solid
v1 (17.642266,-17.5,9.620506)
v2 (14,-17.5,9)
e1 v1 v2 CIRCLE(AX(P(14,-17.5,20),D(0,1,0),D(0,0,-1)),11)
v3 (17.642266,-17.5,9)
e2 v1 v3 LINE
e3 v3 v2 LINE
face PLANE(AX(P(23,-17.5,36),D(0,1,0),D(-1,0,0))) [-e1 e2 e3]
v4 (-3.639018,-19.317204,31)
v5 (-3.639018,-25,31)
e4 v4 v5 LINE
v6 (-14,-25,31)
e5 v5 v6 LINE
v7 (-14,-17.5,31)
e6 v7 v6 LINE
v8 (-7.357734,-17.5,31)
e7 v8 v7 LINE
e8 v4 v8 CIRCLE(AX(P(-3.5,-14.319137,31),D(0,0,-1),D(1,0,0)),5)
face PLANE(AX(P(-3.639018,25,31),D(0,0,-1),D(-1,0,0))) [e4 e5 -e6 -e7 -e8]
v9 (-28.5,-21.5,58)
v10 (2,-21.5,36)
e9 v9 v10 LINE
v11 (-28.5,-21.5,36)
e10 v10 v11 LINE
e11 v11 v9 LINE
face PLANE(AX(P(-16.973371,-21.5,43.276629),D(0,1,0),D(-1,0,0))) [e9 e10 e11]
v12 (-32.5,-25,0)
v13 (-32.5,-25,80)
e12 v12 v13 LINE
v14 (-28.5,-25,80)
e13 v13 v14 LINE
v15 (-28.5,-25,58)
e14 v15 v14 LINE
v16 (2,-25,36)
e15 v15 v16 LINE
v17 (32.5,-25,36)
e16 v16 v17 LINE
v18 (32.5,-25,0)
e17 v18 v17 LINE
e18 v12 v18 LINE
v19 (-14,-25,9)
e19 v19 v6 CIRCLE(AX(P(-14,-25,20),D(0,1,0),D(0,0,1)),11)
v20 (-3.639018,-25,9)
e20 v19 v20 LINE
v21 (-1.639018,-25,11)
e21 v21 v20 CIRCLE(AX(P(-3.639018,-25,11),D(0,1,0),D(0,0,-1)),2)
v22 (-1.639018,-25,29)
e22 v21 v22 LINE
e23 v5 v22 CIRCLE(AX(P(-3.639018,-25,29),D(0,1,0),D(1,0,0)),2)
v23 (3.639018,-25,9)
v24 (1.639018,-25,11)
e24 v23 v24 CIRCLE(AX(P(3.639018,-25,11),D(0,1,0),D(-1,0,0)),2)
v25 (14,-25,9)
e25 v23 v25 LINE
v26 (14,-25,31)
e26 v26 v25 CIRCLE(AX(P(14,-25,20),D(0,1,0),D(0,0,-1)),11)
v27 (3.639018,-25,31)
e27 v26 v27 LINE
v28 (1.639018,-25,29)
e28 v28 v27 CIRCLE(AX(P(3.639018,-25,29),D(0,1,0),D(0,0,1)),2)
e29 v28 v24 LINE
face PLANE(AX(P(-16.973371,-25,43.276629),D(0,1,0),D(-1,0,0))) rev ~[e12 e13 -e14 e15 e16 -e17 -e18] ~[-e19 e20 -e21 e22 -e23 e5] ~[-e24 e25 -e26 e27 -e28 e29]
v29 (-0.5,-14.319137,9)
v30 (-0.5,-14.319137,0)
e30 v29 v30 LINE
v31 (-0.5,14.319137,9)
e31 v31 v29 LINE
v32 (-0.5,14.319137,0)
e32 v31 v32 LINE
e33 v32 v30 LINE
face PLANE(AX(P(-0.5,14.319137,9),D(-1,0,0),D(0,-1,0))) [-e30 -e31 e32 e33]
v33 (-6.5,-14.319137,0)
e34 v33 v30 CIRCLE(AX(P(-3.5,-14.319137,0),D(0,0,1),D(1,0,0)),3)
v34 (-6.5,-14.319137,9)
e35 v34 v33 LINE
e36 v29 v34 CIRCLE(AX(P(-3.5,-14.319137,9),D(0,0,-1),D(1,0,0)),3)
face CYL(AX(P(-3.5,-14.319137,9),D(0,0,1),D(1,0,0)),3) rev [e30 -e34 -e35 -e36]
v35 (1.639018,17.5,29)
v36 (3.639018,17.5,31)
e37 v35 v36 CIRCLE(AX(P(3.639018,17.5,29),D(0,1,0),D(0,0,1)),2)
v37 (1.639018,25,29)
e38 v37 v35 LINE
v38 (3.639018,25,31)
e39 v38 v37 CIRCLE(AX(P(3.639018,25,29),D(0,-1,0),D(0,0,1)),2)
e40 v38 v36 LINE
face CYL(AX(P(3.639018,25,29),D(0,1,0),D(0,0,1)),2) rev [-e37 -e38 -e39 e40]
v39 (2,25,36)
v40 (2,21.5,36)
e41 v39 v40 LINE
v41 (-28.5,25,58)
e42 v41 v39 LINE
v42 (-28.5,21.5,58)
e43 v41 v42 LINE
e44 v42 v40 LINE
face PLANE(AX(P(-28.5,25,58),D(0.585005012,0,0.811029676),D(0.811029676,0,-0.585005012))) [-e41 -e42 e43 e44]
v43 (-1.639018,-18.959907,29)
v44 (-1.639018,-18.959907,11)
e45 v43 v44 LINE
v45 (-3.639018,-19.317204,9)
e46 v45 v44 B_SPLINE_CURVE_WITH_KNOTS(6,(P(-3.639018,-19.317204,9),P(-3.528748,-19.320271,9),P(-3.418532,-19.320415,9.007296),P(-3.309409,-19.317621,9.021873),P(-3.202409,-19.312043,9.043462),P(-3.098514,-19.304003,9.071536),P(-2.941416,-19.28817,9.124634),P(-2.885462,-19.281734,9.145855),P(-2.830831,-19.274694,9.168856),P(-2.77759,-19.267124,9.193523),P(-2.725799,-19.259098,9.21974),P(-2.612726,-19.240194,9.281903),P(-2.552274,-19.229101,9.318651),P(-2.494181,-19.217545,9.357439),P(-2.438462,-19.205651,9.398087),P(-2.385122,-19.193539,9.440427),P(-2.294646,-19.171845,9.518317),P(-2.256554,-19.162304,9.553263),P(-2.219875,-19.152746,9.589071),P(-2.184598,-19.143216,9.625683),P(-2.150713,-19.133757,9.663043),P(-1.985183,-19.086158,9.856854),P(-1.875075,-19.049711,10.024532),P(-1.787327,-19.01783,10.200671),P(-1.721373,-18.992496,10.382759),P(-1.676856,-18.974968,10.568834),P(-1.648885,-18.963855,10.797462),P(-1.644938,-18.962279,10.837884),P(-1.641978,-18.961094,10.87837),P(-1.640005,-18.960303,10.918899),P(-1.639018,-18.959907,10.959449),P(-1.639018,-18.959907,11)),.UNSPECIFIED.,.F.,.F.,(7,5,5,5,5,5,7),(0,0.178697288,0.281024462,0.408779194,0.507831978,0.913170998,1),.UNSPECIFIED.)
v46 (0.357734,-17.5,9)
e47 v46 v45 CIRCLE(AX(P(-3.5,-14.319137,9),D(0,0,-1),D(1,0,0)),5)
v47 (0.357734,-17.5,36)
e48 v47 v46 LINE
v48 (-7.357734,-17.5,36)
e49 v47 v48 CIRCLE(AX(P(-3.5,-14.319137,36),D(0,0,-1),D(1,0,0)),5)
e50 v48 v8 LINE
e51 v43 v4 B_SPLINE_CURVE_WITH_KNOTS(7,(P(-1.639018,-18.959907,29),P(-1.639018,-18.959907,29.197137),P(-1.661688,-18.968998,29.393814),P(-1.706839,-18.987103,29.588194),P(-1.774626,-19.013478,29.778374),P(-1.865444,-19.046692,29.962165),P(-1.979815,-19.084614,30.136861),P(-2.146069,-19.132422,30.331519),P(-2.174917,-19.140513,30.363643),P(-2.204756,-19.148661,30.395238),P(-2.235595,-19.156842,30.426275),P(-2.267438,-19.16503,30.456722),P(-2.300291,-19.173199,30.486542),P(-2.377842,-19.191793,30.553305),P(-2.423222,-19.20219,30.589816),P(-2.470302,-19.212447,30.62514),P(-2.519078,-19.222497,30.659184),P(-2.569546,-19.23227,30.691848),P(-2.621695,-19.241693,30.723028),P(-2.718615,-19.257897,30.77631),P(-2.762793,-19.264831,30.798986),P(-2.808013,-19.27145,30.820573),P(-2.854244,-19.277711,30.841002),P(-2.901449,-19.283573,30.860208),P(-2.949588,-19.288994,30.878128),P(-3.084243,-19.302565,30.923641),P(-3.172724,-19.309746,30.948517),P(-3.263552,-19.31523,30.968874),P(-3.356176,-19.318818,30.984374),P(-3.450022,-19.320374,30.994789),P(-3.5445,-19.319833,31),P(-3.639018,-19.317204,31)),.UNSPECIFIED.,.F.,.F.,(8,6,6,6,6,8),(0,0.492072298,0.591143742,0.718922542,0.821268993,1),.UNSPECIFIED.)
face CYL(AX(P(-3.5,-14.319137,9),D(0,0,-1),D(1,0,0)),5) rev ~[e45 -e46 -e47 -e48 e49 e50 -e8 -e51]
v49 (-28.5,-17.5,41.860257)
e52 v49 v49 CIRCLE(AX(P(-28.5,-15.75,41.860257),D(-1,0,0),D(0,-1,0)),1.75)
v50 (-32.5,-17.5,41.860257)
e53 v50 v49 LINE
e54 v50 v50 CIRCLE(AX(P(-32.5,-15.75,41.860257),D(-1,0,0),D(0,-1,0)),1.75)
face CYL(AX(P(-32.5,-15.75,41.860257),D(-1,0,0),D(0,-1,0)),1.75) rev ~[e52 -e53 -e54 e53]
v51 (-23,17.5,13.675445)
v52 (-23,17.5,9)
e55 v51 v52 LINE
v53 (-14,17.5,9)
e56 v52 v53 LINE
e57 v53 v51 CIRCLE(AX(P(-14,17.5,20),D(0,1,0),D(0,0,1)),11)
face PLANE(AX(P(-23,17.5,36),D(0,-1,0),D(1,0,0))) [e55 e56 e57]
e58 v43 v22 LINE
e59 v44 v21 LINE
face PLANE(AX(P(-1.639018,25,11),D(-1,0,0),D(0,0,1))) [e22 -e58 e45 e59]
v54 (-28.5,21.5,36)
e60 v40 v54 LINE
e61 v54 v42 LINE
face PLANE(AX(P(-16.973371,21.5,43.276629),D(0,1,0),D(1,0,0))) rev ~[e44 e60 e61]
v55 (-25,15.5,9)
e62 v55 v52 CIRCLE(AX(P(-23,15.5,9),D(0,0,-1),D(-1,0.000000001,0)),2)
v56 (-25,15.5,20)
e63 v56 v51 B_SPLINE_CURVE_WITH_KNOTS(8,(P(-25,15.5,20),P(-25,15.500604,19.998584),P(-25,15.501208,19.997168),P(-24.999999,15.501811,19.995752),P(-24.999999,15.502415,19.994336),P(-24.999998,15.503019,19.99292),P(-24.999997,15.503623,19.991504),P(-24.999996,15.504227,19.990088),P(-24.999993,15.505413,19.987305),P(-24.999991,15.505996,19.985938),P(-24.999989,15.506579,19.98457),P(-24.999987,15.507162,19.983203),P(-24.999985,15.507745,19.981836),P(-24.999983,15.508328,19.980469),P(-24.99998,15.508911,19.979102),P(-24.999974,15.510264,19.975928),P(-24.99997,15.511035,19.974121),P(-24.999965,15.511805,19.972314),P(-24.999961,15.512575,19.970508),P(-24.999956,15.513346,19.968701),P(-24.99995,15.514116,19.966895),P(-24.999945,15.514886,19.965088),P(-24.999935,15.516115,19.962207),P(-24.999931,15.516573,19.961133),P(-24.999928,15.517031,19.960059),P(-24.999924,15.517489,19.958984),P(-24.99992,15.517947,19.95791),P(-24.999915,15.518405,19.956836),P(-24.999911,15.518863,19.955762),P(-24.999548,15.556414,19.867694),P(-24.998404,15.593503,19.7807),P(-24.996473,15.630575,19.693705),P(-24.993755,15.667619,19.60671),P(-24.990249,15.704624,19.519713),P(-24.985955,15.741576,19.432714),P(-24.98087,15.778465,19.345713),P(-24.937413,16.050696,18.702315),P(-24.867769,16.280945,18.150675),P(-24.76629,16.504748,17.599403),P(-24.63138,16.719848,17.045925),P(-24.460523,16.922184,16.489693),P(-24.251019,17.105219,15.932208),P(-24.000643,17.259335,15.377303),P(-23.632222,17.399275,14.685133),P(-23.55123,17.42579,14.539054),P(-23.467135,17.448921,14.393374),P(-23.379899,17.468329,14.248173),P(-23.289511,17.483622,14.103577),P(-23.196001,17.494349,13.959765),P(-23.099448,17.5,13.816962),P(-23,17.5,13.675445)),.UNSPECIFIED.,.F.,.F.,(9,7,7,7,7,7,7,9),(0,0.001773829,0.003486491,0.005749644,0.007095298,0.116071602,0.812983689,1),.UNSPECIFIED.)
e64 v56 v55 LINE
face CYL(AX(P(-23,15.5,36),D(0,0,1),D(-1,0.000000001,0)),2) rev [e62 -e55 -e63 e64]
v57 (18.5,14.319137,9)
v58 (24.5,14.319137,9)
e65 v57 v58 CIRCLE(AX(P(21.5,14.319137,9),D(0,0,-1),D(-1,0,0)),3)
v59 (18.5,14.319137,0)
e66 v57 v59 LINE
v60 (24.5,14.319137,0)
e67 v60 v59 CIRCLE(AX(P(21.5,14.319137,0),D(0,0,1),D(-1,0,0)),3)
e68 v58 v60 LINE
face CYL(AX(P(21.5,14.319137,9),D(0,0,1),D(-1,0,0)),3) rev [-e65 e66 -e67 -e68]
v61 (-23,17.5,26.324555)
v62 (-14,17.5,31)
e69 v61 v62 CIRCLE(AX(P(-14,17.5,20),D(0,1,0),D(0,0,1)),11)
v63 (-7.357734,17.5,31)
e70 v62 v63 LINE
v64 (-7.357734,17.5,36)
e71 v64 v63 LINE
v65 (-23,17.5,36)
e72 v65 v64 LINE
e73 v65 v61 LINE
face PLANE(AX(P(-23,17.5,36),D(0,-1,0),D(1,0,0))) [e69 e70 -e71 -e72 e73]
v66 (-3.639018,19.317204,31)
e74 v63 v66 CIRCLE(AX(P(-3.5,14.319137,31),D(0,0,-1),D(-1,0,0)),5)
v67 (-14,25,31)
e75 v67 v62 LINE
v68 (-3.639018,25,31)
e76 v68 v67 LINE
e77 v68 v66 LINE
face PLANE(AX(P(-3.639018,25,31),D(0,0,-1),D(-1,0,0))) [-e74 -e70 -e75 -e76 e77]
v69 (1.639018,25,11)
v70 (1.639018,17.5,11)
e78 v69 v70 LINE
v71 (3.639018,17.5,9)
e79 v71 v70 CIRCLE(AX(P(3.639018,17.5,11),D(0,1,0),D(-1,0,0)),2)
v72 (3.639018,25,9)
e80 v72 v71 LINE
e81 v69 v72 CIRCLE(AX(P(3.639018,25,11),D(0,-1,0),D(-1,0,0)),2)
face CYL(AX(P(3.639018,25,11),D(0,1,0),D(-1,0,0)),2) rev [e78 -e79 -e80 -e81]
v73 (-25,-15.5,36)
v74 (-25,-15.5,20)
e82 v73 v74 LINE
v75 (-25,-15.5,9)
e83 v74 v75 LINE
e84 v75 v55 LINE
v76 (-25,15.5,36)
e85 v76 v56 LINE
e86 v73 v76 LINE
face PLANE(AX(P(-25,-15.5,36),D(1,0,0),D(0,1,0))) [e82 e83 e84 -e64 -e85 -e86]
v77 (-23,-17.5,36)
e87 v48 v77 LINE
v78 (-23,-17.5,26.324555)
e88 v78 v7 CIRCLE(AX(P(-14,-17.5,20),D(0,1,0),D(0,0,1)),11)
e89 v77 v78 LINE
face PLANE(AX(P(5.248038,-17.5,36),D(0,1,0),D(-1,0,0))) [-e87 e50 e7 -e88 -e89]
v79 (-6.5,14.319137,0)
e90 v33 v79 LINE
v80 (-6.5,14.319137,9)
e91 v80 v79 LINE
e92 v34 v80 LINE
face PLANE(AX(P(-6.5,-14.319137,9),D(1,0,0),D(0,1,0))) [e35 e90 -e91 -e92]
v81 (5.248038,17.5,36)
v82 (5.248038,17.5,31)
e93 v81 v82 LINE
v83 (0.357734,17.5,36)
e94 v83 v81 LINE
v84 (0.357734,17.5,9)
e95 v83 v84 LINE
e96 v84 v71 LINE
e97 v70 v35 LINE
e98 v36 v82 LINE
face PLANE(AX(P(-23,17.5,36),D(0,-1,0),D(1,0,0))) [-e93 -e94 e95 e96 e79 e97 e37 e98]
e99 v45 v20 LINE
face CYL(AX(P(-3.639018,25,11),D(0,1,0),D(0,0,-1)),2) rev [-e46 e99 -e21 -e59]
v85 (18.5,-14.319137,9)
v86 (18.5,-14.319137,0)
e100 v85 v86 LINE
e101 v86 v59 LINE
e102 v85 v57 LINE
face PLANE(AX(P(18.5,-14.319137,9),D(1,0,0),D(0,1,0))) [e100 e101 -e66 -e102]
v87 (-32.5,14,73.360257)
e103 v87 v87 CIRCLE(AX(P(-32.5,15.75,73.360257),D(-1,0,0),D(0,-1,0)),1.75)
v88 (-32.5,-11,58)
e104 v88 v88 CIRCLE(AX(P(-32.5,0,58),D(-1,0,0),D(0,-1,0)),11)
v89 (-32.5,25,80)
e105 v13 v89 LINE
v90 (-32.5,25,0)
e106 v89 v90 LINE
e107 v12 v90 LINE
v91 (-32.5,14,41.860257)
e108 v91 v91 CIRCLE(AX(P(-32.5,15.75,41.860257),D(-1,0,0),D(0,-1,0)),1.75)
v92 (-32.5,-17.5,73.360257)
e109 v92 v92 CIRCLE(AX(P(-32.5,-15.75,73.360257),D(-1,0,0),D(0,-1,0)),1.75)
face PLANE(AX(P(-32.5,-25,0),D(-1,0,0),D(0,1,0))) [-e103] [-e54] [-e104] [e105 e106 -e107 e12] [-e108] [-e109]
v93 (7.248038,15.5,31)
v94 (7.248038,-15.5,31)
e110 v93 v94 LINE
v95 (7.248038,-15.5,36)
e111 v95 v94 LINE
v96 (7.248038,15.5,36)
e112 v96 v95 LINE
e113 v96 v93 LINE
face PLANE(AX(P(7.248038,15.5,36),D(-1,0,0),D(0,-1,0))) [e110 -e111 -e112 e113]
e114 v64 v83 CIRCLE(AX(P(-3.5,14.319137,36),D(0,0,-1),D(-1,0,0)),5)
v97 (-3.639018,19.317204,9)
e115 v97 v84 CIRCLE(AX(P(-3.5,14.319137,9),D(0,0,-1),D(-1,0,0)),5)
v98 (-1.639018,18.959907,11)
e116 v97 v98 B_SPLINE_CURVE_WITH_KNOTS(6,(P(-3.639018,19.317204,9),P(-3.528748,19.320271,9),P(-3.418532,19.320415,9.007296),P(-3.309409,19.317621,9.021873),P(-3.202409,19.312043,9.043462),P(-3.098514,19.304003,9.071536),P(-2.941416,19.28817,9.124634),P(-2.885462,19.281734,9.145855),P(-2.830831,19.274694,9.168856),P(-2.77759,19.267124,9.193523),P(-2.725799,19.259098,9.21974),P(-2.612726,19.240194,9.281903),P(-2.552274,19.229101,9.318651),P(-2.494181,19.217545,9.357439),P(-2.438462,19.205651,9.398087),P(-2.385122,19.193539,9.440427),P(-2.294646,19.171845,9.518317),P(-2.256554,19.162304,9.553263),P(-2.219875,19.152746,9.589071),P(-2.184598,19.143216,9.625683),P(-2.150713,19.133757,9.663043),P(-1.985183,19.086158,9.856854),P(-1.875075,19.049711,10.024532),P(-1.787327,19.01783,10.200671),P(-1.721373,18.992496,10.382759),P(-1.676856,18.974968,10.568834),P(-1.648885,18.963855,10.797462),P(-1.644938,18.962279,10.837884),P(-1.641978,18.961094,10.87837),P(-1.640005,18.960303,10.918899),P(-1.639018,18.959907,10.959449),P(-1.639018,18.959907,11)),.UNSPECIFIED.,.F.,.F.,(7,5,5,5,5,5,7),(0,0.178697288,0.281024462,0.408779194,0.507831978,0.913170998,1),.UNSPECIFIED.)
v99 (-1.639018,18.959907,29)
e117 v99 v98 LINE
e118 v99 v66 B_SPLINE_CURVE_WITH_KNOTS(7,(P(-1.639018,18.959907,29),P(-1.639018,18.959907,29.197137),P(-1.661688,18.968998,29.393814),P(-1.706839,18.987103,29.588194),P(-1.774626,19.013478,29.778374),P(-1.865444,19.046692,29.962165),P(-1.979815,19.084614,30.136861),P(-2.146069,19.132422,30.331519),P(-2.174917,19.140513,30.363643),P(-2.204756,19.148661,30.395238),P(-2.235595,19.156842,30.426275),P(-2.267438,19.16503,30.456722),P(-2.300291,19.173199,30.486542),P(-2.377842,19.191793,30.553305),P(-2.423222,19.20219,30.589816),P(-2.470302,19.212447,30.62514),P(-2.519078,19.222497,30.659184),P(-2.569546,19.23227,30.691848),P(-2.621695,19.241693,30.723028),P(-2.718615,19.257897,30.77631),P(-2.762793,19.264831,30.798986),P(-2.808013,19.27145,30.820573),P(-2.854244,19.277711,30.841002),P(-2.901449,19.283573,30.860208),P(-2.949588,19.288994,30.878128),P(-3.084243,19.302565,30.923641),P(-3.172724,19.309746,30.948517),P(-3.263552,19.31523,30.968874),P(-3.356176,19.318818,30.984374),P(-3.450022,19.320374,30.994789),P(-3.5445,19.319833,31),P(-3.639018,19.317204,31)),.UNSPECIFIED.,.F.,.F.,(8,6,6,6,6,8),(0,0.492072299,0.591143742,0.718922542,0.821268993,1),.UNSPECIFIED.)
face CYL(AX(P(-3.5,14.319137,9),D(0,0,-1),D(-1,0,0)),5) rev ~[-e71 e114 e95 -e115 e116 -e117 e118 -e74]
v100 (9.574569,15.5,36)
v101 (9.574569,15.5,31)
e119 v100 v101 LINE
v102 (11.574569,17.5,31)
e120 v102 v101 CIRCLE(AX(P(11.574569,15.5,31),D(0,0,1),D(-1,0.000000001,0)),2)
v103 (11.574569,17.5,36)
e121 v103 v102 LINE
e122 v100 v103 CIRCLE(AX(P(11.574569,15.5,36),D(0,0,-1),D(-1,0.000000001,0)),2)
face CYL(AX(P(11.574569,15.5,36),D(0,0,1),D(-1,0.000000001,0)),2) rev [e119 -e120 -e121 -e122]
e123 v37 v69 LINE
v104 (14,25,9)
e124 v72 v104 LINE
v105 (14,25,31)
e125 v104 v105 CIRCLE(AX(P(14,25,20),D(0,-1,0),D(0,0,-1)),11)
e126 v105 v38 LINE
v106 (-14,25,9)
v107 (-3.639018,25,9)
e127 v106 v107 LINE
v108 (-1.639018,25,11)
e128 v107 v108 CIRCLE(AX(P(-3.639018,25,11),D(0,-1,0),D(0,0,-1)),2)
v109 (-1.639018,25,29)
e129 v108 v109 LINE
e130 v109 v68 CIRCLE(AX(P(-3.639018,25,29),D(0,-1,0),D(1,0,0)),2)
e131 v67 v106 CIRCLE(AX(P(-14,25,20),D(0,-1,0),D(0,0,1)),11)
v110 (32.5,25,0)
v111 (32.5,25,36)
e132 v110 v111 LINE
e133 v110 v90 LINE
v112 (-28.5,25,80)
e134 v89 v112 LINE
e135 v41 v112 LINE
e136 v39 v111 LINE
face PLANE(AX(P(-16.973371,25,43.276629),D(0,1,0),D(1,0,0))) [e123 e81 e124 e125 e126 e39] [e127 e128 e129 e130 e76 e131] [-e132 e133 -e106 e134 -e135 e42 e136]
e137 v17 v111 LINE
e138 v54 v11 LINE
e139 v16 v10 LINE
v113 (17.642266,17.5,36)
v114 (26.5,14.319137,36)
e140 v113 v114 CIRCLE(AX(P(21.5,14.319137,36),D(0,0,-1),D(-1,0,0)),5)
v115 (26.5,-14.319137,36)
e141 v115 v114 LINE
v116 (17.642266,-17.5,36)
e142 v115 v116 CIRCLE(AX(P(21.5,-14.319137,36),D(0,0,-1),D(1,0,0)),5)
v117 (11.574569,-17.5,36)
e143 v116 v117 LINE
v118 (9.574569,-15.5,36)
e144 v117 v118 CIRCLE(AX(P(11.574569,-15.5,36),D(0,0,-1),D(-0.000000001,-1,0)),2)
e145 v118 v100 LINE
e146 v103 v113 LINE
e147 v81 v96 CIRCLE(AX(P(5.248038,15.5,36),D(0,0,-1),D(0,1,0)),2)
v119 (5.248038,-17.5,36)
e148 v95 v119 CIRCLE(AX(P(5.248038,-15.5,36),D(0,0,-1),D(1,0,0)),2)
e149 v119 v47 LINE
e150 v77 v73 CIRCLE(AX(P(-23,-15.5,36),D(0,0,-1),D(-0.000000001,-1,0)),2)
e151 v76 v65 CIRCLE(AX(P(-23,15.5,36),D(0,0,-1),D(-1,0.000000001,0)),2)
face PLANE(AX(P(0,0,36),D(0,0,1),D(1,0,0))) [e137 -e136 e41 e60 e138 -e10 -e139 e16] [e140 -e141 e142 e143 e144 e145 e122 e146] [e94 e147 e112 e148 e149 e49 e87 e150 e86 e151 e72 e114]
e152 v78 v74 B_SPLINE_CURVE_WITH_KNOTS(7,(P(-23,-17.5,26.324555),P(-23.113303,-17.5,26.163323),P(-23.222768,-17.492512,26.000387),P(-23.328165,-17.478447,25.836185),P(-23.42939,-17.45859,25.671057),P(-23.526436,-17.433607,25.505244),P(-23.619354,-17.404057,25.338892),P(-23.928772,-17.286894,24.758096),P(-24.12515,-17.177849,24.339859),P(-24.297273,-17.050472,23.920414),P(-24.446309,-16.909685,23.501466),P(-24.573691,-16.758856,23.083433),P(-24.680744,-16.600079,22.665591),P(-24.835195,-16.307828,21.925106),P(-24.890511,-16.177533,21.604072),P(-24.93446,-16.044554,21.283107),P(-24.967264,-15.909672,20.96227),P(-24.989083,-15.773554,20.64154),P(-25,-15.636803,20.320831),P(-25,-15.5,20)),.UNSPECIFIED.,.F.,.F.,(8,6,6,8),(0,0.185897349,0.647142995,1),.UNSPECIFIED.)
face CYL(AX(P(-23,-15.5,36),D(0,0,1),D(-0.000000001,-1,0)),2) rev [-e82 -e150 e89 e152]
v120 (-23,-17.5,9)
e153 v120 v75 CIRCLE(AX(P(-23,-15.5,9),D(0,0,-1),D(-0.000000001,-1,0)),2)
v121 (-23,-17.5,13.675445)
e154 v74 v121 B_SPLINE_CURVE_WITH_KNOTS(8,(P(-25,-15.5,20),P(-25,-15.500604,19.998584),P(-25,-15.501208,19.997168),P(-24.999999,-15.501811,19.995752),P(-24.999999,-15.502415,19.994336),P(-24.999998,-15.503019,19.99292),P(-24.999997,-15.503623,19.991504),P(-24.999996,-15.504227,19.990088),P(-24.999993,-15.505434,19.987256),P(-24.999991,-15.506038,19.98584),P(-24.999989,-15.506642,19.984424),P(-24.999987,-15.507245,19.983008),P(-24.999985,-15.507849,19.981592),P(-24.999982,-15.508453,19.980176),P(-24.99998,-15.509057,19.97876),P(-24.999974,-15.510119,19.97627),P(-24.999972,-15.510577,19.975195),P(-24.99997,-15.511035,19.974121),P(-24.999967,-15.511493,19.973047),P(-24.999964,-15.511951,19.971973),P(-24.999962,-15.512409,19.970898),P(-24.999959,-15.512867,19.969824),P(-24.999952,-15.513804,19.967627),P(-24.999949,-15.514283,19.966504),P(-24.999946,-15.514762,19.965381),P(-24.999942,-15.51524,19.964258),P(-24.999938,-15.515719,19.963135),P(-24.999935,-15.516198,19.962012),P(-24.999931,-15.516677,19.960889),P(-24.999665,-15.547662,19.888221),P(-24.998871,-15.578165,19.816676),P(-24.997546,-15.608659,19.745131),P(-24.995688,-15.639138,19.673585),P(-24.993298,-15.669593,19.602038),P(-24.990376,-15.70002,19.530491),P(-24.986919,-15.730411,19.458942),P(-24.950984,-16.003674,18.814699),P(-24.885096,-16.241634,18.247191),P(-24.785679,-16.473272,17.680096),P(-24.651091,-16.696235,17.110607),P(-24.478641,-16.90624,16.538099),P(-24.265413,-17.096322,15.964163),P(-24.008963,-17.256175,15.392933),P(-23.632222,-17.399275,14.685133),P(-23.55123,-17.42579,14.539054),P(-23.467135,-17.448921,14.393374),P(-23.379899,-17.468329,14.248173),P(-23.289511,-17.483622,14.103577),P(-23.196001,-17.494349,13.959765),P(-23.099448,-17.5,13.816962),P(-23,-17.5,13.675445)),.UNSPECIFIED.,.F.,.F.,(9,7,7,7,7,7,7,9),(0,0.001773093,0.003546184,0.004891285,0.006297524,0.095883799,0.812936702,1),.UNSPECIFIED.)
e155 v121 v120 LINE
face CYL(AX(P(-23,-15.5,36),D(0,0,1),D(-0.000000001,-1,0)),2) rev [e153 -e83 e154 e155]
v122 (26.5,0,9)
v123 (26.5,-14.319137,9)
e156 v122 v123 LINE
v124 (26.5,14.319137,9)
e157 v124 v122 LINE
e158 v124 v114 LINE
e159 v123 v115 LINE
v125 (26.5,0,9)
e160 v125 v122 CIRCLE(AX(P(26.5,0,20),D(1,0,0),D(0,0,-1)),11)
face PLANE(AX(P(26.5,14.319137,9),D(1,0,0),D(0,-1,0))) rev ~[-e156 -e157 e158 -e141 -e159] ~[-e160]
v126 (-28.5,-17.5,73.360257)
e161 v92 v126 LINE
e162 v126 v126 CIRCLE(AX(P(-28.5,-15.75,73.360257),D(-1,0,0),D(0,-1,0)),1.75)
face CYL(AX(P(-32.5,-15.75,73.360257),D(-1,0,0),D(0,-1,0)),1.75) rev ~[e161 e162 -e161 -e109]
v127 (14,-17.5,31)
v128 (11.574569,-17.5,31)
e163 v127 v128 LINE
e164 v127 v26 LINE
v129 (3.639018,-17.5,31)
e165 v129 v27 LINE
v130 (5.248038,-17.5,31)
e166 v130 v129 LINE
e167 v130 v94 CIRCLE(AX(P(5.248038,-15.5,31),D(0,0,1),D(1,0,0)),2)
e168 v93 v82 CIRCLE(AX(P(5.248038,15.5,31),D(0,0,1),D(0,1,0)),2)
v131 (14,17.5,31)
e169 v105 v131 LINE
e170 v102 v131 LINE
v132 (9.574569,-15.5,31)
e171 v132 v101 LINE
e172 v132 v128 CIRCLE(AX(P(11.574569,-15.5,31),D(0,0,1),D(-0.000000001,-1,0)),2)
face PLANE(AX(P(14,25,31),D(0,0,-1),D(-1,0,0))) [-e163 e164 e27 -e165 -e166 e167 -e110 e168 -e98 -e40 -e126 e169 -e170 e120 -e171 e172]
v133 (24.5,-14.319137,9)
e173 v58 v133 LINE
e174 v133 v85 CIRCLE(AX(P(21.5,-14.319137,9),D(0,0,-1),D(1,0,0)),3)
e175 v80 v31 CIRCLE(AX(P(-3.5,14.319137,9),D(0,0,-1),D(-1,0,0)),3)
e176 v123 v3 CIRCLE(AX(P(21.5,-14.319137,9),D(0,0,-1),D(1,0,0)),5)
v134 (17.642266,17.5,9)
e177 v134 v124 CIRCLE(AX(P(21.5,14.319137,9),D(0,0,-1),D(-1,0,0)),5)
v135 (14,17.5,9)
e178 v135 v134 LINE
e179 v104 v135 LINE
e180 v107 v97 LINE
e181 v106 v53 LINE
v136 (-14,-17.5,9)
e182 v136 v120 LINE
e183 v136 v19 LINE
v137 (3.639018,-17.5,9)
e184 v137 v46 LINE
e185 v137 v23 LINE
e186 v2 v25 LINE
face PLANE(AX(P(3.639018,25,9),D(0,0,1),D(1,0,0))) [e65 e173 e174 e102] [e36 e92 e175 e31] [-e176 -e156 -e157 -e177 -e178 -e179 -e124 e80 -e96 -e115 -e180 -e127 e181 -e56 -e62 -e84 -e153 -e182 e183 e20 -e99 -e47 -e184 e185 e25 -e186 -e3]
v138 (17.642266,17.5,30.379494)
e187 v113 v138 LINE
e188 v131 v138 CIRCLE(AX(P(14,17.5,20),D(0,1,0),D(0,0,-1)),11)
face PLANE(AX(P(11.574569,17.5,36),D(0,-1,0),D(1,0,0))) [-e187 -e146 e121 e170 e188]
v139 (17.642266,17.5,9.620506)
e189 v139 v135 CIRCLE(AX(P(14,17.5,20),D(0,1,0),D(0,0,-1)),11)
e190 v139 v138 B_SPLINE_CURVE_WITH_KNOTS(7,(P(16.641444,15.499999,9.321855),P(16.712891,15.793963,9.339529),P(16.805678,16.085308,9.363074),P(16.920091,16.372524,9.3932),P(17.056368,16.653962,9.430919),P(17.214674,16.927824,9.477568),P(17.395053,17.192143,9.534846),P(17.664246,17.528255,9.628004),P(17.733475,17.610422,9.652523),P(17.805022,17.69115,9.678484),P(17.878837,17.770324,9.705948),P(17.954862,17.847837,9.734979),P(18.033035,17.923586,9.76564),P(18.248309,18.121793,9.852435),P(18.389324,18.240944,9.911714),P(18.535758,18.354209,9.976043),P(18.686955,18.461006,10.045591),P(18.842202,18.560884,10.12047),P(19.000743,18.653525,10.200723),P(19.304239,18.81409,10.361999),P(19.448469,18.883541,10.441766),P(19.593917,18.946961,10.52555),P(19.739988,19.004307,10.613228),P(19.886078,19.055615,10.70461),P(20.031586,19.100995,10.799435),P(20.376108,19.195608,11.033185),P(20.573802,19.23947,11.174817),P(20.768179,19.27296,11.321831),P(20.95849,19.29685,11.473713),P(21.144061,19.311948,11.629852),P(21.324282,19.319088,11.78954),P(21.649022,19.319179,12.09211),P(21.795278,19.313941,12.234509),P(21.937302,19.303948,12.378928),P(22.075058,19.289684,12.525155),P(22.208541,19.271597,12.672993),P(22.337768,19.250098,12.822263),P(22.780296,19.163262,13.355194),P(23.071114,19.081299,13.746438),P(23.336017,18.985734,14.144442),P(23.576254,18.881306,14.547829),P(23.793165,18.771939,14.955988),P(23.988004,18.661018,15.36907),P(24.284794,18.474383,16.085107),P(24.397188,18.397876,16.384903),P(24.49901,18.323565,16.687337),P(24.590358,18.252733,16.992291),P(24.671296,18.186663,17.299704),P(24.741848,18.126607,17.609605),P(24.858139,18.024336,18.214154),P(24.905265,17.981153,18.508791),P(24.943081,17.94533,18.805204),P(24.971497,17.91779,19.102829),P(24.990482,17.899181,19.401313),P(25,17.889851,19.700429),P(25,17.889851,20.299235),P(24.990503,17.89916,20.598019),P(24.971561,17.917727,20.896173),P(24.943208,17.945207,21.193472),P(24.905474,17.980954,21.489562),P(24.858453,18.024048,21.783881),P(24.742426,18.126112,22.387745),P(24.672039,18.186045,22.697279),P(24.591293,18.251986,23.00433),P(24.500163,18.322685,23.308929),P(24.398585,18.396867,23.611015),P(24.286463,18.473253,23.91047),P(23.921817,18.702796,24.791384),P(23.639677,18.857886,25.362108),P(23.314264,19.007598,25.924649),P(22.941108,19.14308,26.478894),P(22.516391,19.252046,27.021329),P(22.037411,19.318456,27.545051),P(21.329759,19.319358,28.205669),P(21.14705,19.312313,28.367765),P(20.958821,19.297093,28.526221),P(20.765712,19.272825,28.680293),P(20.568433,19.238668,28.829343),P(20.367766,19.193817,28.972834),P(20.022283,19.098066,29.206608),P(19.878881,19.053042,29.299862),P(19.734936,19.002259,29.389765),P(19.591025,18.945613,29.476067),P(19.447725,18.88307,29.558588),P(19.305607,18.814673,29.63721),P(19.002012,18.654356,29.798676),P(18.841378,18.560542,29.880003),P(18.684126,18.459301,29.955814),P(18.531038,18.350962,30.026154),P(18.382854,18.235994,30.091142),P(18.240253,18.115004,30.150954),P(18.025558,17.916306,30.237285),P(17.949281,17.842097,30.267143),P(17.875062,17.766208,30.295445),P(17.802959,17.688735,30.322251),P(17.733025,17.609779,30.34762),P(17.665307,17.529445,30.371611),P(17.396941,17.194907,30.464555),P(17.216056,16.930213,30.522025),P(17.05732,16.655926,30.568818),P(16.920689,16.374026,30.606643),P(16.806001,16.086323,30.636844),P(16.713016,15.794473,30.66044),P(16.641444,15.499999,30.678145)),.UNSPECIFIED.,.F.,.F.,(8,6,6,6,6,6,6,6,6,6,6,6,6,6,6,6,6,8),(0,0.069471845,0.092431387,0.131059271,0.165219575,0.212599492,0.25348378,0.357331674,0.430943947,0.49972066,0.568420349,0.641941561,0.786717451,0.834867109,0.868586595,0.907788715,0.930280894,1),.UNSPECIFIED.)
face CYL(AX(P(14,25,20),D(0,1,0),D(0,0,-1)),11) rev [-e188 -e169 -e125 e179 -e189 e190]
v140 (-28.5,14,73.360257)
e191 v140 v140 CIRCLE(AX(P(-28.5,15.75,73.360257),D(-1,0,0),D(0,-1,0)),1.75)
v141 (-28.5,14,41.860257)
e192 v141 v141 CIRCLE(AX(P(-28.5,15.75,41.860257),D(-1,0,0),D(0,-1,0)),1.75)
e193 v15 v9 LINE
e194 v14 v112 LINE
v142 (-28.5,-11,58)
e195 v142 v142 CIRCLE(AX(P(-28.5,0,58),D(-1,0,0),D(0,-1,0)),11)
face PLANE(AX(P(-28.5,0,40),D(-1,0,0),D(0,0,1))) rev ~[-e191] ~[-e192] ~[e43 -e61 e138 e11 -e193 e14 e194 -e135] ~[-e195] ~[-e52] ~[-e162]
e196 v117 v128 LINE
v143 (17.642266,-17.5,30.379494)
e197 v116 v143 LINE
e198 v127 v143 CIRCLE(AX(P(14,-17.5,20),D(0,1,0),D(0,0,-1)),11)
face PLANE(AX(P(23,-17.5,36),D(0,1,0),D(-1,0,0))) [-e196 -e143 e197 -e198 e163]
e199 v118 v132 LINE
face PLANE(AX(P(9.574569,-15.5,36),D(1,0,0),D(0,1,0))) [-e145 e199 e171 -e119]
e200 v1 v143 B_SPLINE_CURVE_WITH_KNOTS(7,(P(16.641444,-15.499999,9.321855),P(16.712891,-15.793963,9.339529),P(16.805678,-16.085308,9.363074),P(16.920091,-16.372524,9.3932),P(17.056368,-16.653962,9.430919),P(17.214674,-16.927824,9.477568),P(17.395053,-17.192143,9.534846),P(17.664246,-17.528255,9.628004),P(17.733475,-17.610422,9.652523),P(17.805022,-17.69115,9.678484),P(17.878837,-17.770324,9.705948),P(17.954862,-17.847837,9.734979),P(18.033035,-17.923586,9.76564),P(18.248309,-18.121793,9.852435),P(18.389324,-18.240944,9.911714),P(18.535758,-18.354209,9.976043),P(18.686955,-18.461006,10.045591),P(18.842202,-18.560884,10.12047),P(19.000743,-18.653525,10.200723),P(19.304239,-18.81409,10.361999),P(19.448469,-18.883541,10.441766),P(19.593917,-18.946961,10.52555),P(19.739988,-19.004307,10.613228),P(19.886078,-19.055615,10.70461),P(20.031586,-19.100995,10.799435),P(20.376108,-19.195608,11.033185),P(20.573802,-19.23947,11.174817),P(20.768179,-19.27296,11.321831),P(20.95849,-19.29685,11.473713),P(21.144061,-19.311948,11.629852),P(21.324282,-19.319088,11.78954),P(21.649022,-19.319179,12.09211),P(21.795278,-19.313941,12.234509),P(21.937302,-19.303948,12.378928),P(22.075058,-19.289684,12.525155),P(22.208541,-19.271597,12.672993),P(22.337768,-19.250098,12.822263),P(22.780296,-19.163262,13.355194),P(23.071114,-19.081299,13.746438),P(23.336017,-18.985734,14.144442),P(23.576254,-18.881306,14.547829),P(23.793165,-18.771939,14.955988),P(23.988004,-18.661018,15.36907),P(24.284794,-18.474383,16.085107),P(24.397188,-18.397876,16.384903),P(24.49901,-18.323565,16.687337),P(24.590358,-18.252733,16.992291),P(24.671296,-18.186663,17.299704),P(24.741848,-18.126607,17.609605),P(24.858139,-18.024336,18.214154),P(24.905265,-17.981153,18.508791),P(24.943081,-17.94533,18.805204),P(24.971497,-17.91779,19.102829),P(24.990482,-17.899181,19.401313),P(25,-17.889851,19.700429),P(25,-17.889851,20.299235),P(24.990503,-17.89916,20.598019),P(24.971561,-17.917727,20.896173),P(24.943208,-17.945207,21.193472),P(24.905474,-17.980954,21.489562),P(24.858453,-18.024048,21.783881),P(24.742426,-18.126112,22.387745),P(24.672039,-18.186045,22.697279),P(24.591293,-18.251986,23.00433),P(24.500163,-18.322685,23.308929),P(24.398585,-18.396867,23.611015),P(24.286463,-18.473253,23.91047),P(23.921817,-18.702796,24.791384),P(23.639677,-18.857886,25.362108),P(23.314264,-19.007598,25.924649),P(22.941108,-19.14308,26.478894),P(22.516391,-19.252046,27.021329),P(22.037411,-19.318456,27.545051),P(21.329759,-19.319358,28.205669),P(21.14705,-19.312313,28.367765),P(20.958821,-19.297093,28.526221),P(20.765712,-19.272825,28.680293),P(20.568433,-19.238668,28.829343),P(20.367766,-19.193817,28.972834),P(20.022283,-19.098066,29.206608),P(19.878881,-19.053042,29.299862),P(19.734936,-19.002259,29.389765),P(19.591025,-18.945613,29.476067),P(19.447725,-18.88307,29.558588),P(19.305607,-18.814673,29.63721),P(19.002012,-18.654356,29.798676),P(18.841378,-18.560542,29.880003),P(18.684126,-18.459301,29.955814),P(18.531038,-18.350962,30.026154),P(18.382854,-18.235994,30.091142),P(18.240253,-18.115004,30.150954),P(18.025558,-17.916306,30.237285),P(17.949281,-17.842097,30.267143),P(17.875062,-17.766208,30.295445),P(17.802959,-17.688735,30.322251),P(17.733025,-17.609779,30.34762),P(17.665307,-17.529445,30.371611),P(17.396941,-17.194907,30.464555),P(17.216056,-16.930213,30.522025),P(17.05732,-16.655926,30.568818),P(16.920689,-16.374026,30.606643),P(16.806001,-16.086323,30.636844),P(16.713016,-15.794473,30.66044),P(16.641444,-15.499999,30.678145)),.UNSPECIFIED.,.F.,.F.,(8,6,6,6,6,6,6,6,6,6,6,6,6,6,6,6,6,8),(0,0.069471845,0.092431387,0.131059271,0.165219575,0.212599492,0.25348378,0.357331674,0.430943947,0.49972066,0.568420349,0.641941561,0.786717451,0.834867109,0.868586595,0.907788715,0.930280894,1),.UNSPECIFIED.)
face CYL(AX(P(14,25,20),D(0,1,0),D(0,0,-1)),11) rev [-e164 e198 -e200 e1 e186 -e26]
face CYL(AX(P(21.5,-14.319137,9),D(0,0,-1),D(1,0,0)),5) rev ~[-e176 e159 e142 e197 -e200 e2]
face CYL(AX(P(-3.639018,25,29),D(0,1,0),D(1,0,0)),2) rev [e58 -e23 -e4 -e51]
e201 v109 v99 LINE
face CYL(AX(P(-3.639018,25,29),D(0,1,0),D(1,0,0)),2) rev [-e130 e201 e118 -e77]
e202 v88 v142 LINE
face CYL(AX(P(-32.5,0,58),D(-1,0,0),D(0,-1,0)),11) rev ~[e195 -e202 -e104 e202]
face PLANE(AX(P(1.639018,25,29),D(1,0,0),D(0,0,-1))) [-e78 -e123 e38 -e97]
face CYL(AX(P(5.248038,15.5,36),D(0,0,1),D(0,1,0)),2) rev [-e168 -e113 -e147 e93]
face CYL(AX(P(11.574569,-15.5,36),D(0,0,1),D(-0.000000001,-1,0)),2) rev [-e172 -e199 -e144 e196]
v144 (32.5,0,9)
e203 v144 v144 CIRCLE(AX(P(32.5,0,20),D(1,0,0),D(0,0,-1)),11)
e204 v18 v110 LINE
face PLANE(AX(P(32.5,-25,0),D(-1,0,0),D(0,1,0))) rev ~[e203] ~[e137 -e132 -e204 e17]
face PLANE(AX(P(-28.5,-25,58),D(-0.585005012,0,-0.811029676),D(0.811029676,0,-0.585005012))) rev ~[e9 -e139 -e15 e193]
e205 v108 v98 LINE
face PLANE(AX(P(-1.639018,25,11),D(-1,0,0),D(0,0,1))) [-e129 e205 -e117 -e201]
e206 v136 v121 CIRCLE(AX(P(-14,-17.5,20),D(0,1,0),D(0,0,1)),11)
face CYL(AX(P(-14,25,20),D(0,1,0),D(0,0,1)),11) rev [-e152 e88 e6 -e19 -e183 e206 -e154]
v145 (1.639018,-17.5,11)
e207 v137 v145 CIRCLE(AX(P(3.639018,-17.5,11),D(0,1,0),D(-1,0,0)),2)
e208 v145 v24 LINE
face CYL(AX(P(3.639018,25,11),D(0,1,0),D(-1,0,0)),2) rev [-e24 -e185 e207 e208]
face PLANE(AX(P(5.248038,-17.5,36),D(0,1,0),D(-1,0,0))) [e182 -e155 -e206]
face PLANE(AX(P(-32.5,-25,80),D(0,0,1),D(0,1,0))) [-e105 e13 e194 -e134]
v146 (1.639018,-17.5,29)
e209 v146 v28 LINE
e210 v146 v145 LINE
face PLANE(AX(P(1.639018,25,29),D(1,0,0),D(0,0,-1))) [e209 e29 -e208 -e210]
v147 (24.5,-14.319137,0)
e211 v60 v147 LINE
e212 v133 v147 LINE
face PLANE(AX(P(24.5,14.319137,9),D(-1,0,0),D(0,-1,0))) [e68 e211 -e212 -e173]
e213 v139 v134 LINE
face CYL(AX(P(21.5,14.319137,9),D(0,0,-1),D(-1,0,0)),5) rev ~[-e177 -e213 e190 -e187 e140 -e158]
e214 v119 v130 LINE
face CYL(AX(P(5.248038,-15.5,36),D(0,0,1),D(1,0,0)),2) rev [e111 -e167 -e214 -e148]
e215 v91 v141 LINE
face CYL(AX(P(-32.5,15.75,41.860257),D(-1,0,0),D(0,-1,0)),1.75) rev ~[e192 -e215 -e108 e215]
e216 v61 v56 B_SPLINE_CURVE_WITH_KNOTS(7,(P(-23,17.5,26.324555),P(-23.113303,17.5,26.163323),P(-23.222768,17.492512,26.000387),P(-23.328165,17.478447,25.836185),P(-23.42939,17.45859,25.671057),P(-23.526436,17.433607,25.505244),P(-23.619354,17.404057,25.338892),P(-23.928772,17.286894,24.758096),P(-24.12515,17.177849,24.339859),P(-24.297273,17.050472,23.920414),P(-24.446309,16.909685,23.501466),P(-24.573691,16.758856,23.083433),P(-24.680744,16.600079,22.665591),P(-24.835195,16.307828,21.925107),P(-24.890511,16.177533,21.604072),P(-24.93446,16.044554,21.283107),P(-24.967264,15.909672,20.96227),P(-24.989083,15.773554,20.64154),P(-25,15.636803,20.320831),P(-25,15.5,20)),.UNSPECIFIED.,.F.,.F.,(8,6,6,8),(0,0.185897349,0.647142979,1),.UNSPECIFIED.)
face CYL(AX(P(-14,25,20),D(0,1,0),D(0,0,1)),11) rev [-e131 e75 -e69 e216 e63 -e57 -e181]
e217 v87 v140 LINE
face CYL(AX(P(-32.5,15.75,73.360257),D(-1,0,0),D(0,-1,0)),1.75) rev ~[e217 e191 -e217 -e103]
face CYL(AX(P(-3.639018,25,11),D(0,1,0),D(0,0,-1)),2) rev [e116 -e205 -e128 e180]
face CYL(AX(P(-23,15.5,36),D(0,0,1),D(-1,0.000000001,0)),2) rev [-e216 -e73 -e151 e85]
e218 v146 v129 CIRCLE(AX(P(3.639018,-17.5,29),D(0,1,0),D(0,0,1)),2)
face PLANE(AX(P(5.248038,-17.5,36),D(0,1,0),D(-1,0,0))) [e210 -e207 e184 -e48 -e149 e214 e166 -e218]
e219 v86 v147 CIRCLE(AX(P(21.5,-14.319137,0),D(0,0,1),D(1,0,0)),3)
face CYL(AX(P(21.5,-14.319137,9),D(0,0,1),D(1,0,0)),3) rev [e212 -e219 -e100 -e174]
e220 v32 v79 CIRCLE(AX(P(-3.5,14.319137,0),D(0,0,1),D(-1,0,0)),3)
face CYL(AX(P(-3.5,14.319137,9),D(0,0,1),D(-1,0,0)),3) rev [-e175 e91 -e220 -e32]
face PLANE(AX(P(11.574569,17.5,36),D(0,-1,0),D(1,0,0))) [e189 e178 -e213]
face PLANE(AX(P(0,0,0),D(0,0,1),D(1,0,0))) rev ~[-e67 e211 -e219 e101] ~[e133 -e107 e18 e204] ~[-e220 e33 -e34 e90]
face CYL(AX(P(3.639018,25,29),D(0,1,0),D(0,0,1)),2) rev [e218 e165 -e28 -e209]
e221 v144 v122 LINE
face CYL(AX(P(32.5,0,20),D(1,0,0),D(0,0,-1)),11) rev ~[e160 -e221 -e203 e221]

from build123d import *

# Parameters (mm, degrees)
SKIZZE1_W                        = 65
SKIZZE1_H                        = 50
AUFSATZ_LINEAR_AUSTRAGEN1_DEPTH  = 36
SKIZZE2_W                        = 80
SKIZZE2_H                        = 50
AUFSATZ_LINEAR_AUSTRAGEN2_DEPTH  = 4
SKIZZE3_R                        = 11
SKIZZE3_R_2                      = 1.75
SCHNITT_LINEAR_AUSTRAGEN1_DEPTH  = 4
AUFSATZ_LINEAR_AUSTRAGEN3_DEPTH  = 3.5
AUFSATZ_LINEAR_AUSTRAGEN4_DEPTH  = 3.5
SCHNITT_LINEAR_AUSTRAGEN2_DEPTH  = 27
SKIZZE7_R                        = 11
SCHNITT_LINEAR_AUSTRAGEN3_DEPTH  = 54
SCHNITT_LINEAR_AUSTRAGEN4_DEPTH  = 54
SCHNITT_LINEAR_AUSTRAGEN10_DEPTH = 37
SCHNITT_LINEAR_AUSTRAGEN11_DEPTH = 37


with BuildPart() as part:
    # Skizze1 → Aufsatz-Linear austragen1 (new body)
    with BuildSketch(Plane.XY):
        Rectangle(SKIZZE1_W, SKIZZE1_H)
    extrude(amount=AUFSATZ_LINEAR_AUSTRAGEN1_DEPTH)

    # Skizze2 → Aufsatz-Linear austragen2 (add)
    with BuildSketch(Plane.ZY.offset(32.5)):
        with Locations((40, 0)):
            Rectangle(SKIZZE2_W, SKIZZE2_H)
    extrude(amount=-AUFSATZ_LINEAR_AUSTRAGEN2_DEPTH)

    # Skizze3 → Schnitt-Linear austragen1 (cut)
    with BuildSketch(Plane.ZY.offset(32.5)):
        with Locations(Location((58, 0, 0), (0, 0, 270))):
            Circle(SKIZZE3_R)
        with Locations(Location((73.360257159, 15.75, 0), (0, 0, 270))):
            Circle(SKIZZE3_R_2)
        with Locations(Location((73.360257159, -15.75, 0), (0, 0, 270))):
            Circle(SKIZZE3_R_2)
        with Locations(Location((41.860257159, -15.75, 0), (0, 0, 270))):
            Circle(SKIZZE3_R_2)
        with Locations(Location((41.860257159, 15.75, 0), (0, 0, 270))):
            Circle(SKIZZE3_R_2)
    extrude(amount=-SCHNITT_LINEAR_AUSTRAGEN1_DEPTH, mode=Mode.SUBTRACT)

    # Skizze4 → Aufsatz-Linear austragen3 (add)
    with BuildSketch(Plane(origin=(0, 25, 0), x_dir=(1, 0, 0), z_dir=(0, 1, 0))):
        Polygon((-28.5, -58), (2, -36), (-28.5, -36), align=None)
    extrude(amount=-AUFSATZ_LINEAR_AUSTRAGEN3_DEPTH)

    # Skizze5 → Aufsatz-Linear austragen4 (add)
    with BuildSketch(Plane.XZ.offset(25)):
        Polygon((-28.5, 58), (2, 36), (-28.5, 36), align=None)
    extrude(amount=-AUFSATZ_LINEAR_AUSTRAGEN4_DEPTH)

    # Skizze6 → Schnitt-Linear austragen2 (cut)
    with BuildSketch(Plane.XY.offset(36)):
        with BuildLine():
            Line((-23, 17.5), (5.24803832, 17.5))
            ThreePointArc((5.24803832, 17.5), (6.662251883, 16.914213562), (7.24803832, 15.5))
            Line((7.24803832, 15.5), (7.24803832, -15.5))
            ThreePointArc((7.24803832, -15.5), (6.662251883, -16.914213562), (5.24803832, -17.5))
            Line((5.24803832, -17.5), (-23, -17.5))
            ThreePointArc((-23, -17.5), (-24.414213562, -16.914213562), (-25, -15.5))
            Line((-25, -15.5), (-25, 15.5))
            ThreePointArc((-25, 15.5), (-24.414213562, 16.914213562), (-23, 17.5))
        make_face()
        with BuildLine():
            Line((25, 15.5), (25, -15.5))
            ThreePointArc((25, -15.5), (24.414213562, -16.914213562), (23, -17.5))
            Line((23, -17.5), (11.574569139, -17.5))
            ThreePointArc((11.574569139, -17.5), (10.160355577, -16.914213562), (9.574569139, -15.5))
            Line((9.574569139, -15.5), (9.574569139, 15.5))
            ThreePointArc((9.574569139, 15.5), (10.160355577, 16.914213562), (11.574569139, 17.5))
            Line((11.574569139, 17.5), (23, 17.5))
            ThreePointArc((23, 17.5), (24.414213562, 16.914213562), (25, 15.5))
        make_face()
    extrude(amount=-SCHNITT_LINEAR_AUSTRAGEN2_DEPTH, mode=Mode.SUBTRACT)

    # Skizze7 → Schnitt-Linear austragen3 (cut)
    with BuildSketch(Plane(origin=(32.5, 0, 0), x_dir=(0, 0, -1), z_dir=(1, 0, 0))):
        with Locations((-20, 0)):
            Circle(SKIZZE7_R)
    extrude(amount=-SCHNITT_LINEAR_AUSTRAGEN3_DEPTH, mode=Mode.SUBTRACT)

    # Skizze8 → Schnitt-Linear austragen4 (cut)
    with BuildSketch(Plane(origin=(0, 25, 0), x_dir=(1, 0, 0), z_dir=(0, 1, 0))):
        with BuildLine():
            Line((-14, -9), (-3.639017883, -9))
            ThreePointArc((-3.639017883, -9), (-2.22480432, -9.585786438), (-1.639017883, -11))
            Line((-1.639017883, -11), (-1.639017883, -29))
            ThreePointArc((-1.639017883, -29), (-2.22480432, -30.414213562), (-3.639017883, -31))
            Line((-3.639017883, -31), (-14, -31))
            ThreePointArc((-14, -31), (-25, -20), (-14, -9))
        make_face()
        with BuildLine():
            Line((3.639017883, -9), (14, -9))
            ThreePointArc((14, -9), (25, -20), (14, -31))
            Line((14, -31), (3.639017883, -31))
            ThreePointArc((3.639017883, -31), (2.22480432, -30.414213562), (1.639017883, -29))
            Line((1.639017883, -29), (1.639017883, -11))
            ThreePointArc((1.639017883, -11), (2.22480432, -9.585786438), (3.639017883, -9))
        make_face()
    extrude(amount=-SCHNITT_LINEAR_AUSTRAGEN4_DEPTH, mode=Mode.SUBTRACT)

    # Skizze9 → Schnitt-Linear austragen10 (cut)
    with BuildSketch(Plane.XY.offset(9)):
        with BuildLine():
            Line((-0.5, 14.31913721), (-0.5, -14.31913721))
            ThreePointArc((-0.5, -14.31913721), (-3.5, -17.31913721), (-6.5, -14.31913721))
            Line((-6.5, -14.31913721), (-6.5, 14.31913721))
            ThreePointArc((-6.5, 14.31913721), (-3.5, 17.31913721), (-0.5, 14.31913721))
        make_face()
        with BuildLine():
            Line((24.5, 14.31913721), (24.5, -14.31913721))
            ThreePointArc((24.5, -14.31913721), (21.5, -17.31913721), (18.5, -14.31913721))
            Line((18.5, -14.31913721), (18.5, 14.31913721))
            ThreePointArc((18.5, 14.31913721), (21.5, 17.31913721), (24.5, 14.31913721))
        make_face()
    extrude(amount=-SCHNITT_LINEAR_AUSTRAGEN10_DEPTH, mode=Mode.SUBTRACT)

    # Skizze14 → Schnitt-Linear austragen11 (cut)
    with BuildSketch(Plane.XY.offset(9)):
        with BuildLine():
            Line((1.5, 14.31913721), (1.5, -14.31913721))
            ThreePointArc((1.5, -14.31913721), (-3.5, -19.31913721), (-8.5, -14.31913721))
            Line((-8.5, -14.31913721), (-8.5, 14.31913721))
            ThreePointArc((-8.5, 14.31913721), (-3.5, 19.31913721), (1.5, 14.31913721))
        make_face()
        with BuildLine():
            Line((26.5, 14.31913721), (26.5, -14.31913721))
            ThreePointArc((26.5, -14.31913721), (21.5, -19.31913721), (16.5, -14.31913721))
            Line((16.5, -14.31913721), (16.5, 14.31913721))
            ThreePointArc((16.5, 14.31913721), (21.5, 19.31913721), (26.5, 14.31913721))
        make_face()
    extrude(amount=SCHNITT_LINEAR_AUSTRAGEN11_DEPTH, mode=Mode.SUBTRACT)


solid = part.part
